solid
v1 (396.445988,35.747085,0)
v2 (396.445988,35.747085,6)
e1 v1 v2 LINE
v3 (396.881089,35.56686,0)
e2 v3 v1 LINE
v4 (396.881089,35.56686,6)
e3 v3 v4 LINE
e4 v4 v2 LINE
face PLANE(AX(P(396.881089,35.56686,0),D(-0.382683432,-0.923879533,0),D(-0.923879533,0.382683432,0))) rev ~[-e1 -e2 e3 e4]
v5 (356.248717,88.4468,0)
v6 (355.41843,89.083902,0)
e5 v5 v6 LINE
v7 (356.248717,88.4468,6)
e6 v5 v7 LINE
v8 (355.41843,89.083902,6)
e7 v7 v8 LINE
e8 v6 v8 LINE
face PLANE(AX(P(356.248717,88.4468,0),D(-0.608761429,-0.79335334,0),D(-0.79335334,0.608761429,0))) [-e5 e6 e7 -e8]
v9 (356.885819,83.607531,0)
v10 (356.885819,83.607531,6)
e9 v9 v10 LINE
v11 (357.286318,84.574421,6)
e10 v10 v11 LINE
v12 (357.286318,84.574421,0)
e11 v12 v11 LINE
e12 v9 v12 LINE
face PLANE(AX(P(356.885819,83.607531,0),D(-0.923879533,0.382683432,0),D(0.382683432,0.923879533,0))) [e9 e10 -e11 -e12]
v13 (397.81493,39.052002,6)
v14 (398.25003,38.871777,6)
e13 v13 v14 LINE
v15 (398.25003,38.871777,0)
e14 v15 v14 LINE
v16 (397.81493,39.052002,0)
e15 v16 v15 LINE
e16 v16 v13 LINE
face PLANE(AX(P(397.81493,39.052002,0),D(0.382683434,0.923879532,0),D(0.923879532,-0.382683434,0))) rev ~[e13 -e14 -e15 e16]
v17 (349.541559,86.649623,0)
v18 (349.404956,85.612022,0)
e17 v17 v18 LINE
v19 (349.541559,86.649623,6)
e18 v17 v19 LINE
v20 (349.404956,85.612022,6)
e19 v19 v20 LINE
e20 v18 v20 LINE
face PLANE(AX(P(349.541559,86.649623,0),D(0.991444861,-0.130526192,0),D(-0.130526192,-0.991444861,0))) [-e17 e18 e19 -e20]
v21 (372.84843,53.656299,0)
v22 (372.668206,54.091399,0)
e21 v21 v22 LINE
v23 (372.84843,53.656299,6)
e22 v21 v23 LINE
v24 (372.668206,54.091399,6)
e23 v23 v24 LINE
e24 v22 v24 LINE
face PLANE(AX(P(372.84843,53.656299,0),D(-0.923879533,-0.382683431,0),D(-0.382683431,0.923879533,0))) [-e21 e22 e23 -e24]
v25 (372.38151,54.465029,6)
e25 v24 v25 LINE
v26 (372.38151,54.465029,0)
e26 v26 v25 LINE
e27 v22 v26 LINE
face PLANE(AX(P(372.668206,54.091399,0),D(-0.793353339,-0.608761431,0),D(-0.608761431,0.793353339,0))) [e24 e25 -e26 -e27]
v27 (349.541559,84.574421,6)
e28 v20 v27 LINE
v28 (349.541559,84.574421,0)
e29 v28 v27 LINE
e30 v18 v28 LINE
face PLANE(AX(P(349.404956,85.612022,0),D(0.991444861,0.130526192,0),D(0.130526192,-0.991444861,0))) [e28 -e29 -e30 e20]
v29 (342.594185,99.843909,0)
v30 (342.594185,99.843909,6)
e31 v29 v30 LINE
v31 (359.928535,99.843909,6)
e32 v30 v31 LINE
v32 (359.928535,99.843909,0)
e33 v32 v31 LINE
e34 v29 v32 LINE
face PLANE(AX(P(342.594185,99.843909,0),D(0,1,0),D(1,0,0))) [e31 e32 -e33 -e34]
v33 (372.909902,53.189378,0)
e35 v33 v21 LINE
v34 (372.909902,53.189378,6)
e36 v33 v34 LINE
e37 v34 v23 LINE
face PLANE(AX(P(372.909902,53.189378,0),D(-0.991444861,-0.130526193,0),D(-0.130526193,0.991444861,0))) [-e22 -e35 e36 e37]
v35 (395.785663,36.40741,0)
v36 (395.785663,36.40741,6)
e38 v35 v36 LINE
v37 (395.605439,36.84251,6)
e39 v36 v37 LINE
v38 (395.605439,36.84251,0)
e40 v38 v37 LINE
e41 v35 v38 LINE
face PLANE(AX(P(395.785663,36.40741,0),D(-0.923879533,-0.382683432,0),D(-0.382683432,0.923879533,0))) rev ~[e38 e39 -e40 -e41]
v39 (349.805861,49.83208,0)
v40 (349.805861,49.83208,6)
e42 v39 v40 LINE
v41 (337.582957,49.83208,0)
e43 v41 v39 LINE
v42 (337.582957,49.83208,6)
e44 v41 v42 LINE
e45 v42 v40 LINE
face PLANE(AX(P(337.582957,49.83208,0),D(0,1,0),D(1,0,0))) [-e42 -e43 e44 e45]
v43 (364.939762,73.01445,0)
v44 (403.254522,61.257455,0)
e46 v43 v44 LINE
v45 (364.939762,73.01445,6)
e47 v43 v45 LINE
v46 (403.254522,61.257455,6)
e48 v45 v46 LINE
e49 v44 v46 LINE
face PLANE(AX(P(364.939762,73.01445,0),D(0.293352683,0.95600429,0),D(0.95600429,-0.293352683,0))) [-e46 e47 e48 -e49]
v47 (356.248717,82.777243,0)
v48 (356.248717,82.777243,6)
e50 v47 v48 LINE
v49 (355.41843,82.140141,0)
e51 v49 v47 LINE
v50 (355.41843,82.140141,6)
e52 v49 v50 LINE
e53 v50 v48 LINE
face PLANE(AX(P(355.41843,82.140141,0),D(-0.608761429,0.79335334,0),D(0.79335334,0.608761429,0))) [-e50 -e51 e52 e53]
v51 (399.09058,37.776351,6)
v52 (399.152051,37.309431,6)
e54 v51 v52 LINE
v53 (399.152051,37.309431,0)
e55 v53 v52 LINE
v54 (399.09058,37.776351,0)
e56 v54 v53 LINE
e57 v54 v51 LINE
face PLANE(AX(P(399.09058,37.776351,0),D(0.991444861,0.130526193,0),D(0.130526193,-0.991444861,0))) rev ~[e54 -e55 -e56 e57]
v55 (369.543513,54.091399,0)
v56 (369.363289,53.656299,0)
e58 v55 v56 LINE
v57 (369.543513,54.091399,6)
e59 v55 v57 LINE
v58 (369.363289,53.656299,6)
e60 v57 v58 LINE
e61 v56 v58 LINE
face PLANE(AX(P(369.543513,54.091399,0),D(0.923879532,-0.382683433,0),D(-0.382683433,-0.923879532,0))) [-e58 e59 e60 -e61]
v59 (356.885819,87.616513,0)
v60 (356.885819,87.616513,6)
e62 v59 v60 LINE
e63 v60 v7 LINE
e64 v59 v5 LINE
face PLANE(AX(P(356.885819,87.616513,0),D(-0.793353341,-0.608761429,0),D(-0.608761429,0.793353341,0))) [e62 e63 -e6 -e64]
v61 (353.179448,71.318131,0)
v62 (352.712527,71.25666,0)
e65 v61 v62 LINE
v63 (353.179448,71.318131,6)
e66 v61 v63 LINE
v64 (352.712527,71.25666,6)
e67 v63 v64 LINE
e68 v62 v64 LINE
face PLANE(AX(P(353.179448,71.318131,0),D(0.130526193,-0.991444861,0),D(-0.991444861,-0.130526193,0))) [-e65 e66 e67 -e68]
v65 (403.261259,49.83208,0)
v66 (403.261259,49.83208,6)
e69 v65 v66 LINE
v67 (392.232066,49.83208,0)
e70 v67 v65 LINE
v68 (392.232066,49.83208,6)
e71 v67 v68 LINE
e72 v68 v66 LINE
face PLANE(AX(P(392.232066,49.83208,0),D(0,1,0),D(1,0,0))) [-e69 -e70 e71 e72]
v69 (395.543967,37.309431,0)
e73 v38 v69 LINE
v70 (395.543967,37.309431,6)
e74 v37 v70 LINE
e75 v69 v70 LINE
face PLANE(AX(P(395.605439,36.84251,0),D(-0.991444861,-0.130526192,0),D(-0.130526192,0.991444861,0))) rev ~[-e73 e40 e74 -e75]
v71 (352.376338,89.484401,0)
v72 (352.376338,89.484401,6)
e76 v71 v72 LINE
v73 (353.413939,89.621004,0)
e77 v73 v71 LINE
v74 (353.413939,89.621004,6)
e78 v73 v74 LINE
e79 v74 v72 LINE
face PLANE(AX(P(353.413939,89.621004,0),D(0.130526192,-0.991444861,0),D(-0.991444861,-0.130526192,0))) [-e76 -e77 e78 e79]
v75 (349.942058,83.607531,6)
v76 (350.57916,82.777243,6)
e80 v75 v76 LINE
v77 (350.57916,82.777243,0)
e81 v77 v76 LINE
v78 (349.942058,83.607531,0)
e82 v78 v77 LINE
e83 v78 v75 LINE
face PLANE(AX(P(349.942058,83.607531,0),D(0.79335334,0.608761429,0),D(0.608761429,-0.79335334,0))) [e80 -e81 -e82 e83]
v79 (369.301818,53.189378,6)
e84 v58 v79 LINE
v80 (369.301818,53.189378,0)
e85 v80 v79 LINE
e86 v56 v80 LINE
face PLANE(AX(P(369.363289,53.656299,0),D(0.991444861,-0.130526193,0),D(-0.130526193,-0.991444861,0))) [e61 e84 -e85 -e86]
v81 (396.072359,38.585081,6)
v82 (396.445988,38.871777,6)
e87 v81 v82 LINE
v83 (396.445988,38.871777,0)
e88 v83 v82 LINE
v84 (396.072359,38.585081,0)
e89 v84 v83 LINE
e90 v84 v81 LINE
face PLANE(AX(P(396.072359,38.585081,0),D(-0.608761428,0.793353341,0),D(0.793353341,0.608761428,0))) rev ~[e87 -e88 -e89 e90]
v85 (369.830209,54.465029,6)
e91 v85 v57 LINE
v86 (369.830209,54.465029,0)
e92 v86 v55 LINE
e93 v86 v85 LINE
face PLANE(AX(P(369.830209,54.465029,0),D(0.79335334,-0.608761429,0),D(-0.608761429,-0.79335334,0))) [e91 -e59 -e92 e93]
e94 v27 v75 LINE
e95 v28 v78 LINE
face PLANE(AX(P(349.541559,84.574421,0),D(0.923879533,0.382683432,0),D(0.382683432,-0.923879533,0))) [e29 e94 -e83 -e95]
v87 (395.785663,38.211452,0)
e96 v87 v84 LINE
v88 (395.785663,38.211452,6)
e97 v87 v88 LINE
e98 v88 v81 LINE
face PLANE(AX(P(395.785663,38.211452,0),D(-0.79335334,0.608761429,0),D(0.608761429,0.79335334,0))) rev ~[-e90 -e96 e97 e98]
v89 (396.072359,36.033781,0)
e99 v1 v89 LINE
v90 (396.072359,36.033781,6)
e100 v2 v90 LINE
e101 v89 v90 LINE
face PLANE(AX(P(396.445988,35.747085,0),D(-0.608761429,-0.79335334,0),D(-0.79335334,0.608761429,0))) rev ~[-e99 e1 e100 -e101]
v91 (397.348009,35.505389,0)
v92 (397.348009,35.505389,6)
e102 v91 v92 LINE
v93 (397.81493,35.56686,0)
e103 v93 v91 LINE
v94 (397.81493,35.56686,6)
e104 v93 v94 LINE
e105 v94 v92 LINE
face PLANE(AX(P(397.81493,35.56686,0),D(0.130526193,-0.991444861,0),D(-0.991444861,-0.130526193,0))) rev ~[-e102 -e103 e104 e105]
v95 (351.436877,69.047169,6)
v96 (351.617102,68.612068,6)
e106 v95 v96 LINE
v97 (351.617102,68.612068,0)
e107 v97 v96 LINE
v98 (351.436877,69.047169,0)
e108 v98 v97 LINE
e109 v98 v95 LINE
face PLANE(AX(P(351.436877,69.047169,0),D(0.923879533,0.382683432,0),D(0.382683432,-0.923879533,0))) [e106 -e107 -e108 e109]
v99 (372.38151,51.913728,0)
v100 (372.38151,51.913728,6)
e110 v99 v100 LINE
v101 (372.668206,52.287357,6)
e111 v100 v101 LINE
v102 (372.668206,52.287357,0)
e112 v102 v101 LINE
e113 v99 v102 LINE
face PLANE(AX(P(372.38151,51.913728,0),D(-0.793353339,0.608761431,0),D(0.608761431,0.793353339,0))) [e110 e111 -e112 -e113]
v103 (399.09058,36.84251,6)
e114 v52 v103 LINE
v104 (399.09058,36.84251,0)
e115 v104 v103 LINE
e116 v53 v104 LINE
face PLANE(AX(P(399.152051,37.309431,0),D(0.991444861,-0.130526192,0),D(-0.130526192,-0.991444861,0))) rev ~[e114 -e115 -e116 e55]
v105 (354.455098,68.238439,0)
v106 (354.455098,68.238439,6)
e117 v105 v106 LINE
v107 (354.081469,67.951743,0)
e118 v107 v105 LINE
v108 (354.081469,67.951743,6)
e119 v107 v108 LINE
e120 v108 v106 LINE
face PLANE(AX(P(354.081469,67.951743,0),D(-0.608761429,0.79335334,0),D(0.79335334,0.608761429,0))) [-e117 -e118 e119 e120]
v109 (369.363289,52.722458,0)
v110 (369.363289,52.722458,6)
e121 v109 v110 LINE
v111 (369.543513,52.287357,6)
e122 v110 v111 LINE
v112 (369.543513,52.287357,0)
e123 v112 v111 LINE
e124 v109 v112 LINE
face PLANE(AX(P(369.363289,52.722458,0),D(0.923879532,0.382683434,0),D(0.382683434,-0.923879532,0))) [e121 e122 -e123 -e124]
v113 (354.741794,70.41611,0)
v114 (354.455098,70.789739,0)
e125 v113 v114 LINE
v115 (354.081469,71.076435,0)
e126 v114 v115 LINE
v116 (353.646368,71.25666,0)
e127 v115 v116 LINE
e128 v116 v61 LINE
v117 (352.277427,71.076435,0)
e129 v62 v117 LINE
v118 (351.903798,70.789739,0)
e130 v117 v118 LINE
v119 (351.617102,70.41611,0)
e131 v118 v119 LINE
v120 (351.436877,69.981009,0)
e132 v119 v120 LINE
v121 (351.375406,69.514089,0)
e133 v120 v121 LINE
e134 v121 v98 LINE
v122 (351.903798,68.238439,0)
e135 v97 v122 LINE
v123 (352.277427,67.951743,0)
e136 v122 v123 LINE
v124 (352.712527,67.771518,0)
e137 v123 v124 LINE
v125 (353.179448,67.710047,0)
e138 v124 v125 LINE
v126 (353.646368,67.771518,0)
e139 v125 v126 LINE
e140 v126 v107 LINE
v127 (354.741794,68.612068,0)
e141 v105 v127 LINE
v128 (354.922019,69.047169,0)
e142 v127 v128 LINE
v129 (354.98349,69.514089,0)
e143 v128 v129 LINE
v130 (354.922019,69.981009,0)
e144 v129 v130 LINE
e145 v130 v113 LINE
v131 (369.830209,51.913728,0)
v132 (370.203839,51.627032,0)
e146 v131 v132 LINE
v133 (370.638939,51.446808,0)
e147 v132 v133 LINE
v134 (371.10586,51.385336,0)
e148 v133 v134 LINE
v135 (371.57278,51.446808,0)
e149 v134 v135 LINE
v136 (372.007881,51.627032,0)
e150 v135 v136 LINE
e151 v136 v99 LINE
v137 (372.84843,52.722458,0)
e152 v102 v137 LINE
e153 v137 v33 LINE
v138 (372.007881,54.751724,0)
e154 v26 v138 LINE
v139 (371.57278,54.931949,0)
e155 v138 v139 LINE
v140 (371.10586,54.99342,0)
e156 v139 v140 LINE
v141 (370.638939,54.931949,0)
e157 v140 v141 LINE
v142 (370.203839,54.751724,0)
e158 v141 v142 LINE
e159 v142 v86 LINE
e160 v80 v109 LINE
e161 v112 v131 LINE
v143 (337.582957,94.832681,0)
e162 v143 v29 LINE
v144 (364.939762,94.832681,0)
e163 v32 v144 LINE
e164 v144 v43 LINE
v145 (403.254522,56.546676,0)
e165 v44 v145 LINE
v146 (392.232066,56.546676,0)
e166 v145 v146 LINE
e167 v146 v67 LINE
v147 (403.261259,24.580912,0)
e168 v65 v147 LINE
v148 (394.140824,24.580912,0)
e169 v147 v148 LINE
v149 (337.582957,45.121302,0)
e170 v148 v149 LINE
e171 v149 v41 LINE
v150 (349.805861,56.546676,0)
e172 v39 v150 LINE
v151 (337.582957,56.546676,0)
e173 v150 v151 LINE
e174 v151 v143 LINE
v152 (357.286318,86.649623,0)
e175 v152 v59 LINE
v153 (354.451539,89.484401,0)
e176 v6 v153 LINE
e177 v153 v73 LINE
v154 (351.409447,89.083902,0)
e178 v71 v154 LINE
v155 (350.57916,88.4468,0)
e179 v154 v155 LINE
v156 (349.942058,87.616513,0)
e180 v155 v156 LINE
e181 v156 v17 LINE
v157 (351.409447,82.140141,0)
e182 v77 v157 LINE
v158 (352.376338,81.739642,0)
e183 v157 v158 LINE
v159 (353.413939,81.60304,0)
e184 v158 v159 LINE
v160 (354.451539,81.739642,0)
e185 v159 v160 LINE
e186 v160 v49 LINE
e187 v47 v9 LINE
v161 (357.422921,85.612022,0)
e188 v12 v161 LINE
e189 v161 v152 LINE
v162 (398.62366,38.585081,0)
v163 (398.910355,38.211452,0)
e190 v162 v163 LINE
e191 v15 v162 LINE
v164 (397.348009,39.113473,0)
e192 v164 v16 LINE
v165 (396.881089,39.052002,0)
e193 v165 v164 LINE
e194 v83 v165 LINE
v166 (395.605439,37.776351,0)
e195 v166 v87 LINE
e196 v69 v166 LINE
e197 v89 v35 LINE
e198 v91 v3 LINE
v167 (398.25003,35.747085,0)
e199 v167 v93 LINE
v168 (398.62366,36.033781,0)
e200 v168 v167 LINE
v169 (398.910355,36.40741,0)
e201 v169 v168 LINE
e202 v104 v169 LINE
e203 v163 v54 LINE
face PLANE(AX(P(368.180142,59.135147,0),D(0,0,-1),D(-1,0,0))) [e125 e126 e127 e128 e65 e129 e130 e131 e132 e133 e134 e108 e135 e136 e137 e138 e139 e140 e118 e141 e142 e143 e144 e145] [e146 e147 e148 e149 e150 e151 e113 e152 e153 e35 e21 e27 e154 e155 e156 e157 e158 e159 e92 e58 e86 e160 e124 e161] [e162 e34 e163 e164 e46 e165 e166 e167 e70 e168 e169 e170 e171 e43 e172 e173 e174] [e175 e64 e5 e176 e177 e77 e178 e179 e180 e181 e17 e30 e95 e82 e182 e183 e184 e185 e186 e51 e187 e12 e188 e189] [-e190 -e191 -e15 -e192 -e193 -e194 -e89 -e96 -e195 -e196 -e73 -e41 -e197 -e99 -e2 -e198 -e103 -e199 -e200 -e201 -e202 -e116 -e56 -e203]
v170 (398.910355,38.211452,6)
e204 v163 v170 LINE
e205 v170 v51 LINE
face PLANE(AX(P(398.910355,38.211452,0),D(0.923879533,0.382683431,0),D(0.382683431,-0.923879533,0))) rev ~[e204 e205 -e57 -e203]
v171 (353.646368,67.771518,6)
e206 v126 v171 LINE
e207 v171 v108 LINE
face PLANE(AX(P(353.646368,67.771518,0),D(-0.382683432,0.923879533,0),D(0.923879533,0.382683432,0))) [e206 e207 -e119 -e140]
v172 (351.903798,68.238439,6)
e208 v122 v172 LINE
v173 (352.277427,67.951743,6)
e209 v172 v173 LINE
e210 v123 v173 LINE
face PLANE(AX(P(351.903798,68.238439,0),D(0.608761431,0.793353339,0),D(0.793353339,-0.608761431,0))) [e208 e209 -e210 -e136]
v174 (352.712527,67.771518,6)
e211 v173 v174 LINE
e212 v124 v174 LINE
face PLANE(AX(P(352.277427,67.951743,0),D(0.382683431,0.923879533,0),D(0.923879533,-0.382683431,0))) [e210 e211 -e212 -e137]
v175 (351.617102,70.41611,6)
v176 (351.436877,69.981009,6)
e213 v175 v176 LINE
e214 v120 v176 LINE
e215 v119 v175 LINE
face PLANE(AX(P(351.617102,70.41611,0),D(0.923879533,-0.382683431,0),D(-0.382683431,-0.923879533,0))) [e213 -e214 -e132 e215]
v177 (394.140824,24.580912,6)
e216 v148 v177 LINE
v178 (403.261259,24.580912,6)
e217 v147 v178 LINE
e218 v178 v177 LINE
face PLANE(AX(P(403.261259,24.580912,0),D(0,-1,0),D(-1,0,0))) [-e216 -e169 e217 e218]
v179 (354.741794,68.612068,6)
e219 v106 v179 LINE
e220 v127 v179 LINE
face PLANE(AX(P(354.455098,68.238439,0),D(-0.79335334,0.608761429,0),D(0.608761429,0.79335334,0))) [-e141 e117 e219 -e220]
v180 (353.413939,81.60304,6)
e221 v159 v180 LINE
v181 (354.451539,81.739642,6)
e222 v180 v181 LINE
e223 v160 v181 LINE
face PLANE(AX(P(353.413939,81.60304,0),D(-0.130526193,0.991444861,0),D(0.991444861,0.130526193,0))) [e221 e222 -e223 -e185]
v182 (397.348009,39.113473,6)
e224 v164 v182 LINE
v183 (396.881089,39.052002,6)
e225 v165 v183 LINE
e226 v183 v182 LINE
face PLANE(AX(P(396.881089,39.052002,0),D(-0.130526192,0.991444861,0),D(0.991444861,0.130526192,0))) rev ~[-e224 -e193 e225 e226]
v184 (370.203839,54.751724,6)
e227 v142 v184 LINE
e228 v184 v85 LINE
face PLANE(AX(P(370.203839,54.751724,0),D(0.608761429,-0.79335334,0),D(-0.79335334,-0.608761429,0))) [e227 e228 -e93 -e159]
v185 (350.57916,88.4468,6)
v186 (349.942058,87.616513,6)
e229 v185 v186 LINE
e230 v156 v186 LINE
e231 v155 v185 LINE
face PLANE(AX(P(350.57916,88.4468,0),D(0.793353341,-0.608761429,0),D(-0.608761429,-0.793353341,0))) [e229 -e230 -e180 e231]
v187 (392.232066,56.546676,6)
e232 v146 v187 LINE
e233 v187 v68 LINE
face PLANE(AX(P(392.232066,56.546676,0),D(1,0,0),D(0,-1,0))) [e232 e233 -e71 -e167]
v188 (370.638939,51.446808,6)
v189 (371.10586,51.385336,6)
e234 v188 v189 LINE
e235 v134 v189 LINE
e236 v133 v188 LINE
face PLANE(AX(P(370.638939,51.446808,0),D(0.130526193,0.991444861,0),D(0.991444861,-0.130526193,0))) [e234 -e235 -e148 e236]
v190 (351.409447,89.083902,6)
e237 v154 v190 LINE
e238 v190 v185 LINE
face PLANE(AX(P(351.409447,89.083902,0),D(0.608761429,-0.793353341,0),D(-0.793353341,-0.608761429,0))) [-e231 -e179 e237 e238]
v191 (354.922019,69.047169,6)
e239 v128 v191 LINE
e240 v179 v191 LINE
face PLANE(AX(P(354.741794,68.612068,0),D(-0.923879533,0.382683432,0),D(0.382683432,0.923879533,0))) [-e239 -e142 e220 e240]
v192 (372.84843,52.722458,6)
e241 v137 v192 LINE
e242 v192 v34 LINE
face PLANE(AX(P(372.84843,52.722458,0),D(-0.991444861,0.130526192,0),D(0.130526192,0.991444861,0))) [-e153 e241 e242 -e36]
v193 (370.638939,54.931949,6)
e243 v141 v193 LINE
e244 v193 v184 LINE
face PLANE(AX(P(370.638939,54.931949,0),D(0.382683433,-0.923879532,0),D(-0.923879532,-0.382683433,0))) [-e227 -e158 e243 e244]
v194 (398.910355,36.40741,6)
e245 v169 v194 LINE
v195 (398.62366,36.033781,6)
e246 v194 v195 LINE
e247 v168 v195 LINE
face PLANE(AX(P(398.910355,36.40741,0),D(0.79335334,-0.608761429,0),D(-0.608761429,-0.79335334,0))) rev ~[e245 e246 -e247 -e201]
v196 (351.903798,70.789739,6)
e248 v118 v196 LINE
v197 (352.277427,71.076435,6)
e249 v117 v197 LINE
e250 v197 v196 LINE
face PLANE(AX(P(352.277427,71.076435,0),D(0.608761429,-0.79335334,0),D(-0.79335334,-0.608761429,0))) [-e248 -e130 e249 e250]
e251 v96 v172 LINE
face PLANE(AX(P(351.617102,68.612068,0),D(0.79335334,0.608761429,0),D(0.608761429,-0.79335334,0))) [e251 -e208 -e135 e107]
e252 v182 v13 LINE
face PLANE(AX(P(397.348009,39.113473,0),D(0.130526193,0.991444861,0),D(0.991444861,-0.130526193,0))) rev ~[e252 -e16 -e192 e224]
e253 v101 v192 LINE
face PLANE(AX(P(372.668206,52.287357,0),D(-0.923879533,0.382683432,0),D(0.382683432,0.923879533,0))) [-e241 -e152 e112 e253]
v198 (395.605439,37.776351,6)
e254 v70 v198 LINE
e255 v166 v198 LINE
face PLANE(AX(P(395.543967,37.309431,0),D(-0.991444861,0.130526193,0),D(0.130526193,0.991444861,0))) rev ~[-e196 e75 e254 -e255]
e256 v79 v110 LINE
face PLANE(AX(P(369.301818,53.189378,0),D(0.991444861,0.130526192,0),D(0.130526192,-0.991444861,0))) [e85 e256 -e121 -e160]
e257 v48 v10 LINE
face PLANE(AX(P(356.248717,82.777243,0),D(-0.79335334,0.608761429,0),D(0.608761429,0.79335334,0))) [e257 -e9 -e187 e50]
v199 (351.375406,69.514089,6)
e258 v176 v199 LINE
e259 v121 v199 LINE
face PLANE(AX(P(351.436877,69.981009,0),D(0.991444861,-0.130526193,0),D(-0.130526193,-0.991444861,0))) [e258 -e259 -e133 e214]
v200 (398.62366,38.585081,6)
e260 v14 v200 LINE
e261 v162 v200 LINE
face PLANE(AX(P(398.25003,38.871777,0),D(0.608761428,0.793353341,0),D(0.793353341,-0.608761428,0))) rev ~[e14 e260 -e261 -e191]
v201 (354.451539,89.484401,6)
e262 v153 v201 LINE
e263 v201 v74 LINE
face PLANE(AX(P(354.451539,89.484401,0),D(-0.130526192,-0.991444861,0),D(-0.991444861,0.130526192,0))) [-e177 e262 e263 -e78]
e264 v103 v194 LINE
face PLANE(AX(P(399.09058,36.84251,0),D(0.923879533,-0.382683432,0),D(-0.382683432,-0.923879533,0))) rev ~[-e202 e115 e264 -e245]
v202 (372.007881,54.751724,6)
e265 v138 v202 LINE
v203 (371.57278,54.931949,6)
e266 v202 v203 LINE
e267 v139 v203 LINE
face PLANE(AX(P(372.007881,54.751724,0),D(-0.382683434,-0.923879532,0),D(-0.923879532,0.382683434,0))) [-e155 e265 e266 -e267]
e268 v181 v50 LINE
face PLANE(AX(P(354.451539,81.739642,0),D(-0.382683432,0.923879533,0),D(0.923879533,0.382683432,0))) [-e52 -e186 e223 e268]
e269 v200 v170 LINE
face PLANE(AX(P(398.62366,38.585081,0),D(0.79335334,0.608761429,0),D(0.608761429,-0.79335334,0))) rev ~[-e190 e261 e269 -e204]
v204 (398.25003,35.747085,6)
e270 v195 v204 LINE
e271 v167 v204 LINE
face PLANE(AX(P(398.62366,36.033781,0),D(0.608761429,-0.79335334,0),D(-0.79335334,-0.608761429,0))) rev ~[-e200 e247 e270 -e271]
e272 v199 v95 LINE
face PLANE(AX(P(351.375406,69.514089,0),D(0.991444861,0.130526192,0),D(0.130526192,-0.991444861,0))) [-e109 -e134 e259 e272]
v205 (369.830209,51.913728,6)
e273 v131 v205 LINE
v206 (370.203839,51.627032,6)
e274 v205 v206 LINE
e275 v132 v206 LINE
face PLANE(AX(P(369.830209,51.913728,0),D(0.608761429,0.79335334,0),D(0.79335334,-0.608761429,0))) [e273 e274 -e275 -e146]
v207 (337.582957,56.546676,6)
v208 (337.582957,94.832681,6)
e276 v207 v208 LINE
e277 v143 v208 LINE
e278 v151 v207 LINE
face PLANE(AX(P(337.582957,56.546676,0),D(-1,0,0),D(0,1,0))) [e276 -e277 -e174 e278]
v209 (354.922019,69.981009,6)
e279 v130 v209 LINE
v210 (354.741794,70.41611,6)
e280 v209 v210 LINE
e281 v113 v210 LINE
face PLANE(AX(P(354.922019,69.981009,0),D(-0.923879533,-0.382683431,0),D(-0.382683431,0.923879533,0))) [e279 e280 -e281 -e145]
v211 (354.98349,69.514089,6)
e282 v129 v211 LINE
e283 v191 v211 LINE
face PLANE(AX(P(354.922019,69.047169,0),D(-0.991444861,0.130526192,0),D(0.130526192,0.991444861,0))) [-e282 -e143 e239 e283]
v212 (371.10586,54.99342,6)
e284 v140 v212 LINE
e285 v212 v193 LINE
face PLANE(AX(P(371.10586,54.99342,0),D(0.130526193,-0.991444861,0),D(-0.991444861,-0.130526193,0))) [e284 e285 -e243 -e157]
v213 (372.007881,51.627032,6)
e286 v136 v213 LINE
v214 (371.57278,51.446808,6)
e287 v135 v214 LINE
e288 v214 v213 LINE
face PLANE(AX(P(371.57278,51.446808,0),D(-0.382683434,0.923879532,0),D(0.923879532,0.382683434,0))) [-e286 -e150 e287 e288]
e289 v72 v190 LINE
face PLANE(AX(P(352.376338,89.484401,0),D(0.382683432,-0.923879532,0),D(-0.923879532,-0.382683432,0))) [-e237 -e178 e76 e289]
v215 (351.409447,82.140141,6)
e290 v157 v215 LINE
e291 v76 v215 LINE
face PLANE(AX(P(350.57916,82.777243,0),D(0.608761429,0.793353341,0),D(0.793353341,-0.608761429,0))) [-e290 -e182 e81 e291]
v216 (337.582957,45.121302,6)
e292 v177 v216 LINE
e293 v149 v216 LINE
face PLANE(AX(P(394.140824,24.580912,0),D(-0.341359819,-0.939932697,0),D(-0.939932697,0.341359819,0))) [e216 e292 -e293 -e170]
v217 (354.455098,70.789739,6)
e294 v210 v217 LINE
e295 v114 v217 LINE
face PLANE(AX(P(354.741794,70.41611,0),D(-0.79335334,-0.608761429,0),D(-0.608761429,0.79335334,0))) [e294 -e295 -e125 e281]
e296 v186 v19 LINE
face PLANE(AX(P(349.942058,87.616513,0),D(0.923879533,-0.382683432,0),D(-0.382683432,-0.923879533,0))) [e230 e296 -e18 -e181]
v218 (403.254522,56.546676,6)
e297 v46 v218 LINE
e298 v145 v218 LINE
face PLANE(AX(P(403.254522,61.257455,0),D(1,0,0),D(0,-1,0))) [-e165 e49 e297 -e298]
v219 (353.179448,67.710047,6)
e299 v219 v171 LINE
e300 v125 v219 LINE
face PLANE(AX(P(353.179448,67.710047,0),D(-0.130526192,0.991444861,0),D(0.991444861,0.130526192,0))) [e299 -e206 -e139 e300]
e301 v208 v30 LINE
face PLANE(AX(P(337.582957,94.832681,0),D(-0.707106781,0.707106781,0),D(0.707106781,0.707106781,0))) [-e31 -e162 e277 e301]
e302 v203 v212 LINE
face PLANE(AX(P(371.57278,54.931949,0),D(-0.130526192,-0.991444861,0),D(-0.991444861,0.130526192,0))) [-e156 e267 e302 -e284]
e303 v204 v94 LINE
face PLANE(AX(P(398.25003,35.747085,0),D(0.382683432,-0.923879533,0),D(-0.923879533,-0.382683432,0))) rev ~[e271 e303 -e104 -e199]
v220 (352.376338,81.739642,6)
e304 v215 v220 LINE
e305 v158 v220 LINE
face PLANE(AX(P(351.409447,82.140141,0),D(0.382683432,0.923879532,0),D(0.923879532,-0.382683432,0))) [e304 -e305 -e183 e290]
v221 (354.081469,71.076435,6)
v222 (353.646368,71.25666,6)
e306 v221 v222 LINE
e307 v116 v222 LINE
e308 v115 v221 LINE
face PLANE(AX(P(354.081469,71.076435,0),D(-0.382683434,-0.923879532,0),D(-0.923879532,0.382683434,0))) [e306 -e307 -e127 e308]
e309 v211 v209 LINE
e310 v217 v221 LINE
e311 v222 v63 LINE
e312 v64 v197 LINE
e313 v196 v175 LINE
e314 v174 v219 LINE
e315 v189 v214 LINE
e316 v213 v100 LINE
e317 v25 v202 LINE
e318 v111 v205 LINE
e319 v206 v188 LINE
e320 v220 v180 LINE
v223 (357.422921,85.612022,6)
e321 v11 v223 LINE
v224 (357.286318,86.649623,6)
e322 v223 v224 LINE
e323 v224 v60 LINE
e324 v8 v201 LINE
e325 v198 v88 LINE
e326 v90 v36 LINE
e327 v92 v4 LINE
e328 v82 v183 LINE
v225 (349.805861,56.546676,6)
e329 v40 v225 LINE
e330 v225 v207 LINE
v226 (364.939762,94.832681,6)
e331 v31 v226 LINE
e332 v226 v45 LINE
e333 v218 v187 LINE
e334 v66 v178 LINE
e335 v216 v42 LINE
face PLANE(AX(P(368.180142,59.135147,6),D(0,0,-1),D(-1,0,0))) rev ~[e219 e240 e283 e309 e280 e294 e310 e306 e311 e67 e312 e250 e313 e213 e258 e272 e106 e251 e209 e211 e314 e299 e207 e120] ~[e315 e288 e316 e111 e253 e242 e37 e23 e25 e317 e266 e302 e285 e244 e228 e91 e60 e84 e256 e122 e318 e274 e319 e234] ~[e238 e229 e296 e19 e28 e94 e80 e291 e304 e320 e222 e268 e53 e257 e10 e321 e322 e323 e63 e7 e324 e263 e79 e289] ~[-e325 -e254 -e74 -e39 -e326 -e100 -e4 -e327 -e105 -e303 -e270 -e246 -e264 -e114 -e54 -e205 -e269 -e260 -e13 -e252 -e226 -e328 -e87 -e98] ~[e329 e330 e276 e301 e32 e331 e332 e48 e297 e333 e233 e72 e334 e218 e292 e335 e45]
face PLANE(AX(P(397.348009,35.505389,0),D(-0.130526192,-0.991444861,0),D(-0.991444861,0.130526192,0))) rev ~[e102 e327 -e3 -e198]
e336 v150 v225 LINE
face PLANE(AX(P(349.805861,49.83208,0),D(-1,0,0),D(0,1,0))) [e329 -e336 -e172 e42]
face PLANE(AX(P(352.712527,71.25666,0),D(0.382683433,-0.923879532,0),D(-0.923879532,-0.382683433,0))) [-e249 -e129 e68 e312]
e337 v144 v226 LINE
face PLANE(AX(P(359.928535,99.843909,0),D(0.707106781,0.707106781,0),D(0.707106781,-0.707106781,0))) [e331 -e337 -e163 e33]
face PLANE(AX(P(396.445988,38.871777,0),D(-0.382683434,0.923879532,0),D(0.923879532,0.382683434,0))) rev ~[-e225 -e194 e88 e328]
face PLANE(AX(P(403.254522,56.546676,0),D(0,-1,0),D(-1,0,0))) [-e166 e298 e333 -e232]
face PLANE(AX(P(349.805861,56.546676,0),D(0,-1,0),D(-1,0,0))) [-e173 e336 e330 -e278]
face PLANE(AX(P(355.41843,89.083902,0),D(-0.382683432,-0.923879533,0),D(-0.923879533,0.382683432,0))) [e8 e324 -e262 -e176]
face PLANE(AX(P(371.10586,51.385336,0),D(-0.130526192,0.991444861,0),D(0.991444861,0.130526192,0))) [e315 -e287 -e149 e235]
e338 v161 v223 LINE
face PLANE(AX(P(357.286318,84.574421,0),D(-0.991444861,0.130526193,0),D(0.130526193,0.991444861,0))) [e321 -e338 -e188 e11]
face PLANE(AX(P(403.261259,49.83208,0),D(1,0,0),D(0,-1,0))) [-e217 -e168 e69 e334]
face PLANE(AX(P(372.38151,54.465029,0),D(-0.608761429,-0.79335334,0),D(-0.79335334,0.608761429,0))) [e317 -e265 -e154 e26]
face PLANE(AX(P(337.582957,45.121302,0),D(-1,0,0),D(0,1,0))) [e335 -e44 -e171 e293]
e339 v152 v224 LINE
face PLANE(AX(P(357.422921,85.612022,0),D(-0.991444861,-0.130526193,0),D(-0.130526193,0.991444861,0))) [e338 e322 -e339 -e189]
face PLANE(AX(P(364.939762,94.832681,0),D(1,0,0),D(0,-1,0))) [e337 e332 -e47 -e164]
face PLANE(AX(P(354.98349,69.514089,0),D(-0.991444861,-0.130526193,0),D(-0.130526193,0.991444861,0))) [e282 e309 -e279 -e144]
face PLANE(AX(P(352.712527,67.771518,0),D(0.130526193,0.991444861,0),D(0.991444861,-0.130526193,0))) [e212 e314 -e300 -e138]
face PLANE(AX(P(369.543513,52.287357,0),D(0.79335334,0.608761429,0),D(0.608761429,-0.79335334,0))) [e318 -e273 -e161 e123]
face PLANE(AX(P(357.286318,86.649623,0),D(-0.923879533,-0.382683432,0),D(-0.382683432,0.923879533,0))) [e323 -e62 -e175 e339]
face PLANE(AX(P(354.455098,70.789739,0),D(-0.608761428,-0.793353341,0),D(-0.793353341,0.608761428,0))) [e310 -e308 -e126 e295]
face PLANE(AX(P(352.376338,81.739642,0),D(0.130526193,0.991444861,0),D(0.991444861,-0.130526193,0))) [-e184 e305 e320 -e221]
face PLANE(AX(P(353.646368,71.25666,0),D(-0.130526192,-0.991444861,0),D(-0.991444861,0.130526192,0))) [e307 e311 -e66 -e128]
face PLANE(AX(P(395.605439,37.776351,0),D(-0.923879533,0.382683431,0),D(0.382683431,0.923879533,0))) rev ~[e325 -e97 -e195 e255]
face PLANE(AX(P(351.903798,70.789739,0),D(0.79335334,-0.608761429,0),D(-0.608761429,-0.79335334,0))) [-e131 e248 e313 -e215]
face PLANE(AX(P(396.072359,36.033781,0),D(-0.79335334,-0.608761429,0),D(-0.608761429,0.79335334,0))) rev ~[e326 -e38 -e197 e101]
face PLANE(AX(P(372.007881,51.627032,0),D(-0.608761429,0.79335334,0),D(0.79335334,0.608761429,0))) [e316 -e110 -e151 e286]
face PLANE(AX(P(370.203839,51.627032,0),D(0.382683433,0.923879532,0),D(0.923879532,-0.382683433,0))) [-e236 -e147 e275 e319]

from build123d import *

# Parameters (mm, degrees)
BOSS_EXTRUDE1_DEPTH = 6


with BuildPart() as part:
    # Sketch1 → Boss-Extrude1 (new body)
    with BuildSketch(Plane.XY):
        Polygon((349.805861239, 49.832080259), (349.805861239, 56.546676312), (337.582956824, 56.546676312), (337.582956824, 94.832680829), (342.594184557, 99.843908562), (359.928534592, 99.843908562), (364.939762315, 94.832680839), (364.939762315, 73.014449736), (403.254521851, 61.257454897), (403.254521851, 56.546676274), (392.232066466, 56.546676274), (392.232066466, 49.832080221), (403.26125874, 49.832080221), (403.26125874, 24.580912459), (394.140824266, 24.580912459), (337.582956824, 45.121301639), (337.582956824, 49.832080259), align=None)
        Polygon((396.07235895, 38.585081223), (396.445988279, 38.87177709), (396.881088847, 39.052001647), (397.348009271, 39.113472887), (397.814929694, 39.052001647), (398.250030262, 38.87177709), (398.623659591, 38.585081223), (398.910355458, 38.211451895), (399.090580014, 37.776351326), (399.152051254, 37.309430903), (399.090580014, 36.842510479), (398.910355458, 36.407409911), (398.623659591, 36.033780583), (398.250030262, 35.747084715), (397.814929694, 35.566860159), (397.348009271, 35.505388919), (396.881088847, 35.566860159), (396.445988279, 35.747084715), (396.07235895, 36.033780583), (395.785663083, 36.407409911), (395.605438527, 36.842510479), (395.543967287, 37.309430903), (395.605438527, 37.776351326), (395.785663083, 38.211451895), align=None, mode=Mode.SUBTRACT)
        Polygon((351.375405933, 69.514088989), (351.436877173, 69.047168565), (351.617101729, 68.612067997), (351.903797596, 68.238438669), (352.277426924, 67.951742801), (352.712527493, 67.771518245), (353.179447916, 67.710047005), (353.64636834, 67.771518245), (354.081468908, 67.951742801), (354.455098237, 68.238438669), (354.741794104, 68.612067997), (354.92201866, 69.047168565), (354.9834899, 69.514088989), (354.92201866, 69.981009412), (354.741794104, 70.416109981), (354.455098237, 70.789739309), (354.081468908, 71.076435176), (353.64636834, 71.256659733), (353.179447916, 71.318130973), (352.712527493, 71.256659733), (352.277426924, 71.076435176), (351.903797596, 70.789739309), (351.617101729, 70.416109981), (351.436877173, 69.981009412), align=None, mode=Mode.SUBTRACT)
        Polygon((372.381509854, 54.465028594), (372.007880526, 54.751724461), (371.572779958, 54.931949018), (371.105859534, 54.993420258), (370.638939111, 54.931949018), (370.203838542, 54.751724461), (369.830209214, 54.465028594), (369.543513347, 54.091399266), (369.36328879, 53.656298697), (369.30181755, 53.189378274), (369.36328879, 52.72245785), (369.543513347, 52.287357282), (369.830209214, 51.913727954), (370.203838542, 51.627032087), (370.638939111, 51.44680753), (371.105859534, 51.38533629), (371.572779958, 51.44680753), (372.007880526, 51.627032087), (372.381509854, 51.913727954), (372.668205722, 52.287357282), (372.848430278, 52.72245785), (372.909901518, 53.189378274), (372.848430278, 53.656298697), (372.668205722, 54.091399266), align=None, mode=Mode.SUBTRACT)
        Polygon((350.579160049, 82.777243303), (351.409447446, 82.140141376), (352.376337597, 81.739642362), (353.413938539, 81.603039606), (354.45153948, 81.739642362), (355.418429632, 82.140141376), (356.248717028, 82.777243303), (356.885818955, 83.607530699), (357.286317969, 84.574420851), (357.422920725, 85.612021792), (357.286317969, 86.649622733), (356.885818955, 87.616512885), (356.248717028, 88.446800282), (355.418429632, 89.083902209), (354.45153948, 89.484401223), (353.413938539, 89.621003978), (352.376337597, 89.484401223), (351.409447446, 89.083902209), (350.579160049, 88.446800282), (349.942058122, 87.616512885), (349.541559108, 86.649622733), (349.404956353, 85.612021792), (349.541559108, 84.574420851), (349.942058122, 83.607530699), align=None, mode=Mode.SUBTRACT)
    extrude(amount=BOSS_EXTRUDE1_DEPTH)


solid = part.part
